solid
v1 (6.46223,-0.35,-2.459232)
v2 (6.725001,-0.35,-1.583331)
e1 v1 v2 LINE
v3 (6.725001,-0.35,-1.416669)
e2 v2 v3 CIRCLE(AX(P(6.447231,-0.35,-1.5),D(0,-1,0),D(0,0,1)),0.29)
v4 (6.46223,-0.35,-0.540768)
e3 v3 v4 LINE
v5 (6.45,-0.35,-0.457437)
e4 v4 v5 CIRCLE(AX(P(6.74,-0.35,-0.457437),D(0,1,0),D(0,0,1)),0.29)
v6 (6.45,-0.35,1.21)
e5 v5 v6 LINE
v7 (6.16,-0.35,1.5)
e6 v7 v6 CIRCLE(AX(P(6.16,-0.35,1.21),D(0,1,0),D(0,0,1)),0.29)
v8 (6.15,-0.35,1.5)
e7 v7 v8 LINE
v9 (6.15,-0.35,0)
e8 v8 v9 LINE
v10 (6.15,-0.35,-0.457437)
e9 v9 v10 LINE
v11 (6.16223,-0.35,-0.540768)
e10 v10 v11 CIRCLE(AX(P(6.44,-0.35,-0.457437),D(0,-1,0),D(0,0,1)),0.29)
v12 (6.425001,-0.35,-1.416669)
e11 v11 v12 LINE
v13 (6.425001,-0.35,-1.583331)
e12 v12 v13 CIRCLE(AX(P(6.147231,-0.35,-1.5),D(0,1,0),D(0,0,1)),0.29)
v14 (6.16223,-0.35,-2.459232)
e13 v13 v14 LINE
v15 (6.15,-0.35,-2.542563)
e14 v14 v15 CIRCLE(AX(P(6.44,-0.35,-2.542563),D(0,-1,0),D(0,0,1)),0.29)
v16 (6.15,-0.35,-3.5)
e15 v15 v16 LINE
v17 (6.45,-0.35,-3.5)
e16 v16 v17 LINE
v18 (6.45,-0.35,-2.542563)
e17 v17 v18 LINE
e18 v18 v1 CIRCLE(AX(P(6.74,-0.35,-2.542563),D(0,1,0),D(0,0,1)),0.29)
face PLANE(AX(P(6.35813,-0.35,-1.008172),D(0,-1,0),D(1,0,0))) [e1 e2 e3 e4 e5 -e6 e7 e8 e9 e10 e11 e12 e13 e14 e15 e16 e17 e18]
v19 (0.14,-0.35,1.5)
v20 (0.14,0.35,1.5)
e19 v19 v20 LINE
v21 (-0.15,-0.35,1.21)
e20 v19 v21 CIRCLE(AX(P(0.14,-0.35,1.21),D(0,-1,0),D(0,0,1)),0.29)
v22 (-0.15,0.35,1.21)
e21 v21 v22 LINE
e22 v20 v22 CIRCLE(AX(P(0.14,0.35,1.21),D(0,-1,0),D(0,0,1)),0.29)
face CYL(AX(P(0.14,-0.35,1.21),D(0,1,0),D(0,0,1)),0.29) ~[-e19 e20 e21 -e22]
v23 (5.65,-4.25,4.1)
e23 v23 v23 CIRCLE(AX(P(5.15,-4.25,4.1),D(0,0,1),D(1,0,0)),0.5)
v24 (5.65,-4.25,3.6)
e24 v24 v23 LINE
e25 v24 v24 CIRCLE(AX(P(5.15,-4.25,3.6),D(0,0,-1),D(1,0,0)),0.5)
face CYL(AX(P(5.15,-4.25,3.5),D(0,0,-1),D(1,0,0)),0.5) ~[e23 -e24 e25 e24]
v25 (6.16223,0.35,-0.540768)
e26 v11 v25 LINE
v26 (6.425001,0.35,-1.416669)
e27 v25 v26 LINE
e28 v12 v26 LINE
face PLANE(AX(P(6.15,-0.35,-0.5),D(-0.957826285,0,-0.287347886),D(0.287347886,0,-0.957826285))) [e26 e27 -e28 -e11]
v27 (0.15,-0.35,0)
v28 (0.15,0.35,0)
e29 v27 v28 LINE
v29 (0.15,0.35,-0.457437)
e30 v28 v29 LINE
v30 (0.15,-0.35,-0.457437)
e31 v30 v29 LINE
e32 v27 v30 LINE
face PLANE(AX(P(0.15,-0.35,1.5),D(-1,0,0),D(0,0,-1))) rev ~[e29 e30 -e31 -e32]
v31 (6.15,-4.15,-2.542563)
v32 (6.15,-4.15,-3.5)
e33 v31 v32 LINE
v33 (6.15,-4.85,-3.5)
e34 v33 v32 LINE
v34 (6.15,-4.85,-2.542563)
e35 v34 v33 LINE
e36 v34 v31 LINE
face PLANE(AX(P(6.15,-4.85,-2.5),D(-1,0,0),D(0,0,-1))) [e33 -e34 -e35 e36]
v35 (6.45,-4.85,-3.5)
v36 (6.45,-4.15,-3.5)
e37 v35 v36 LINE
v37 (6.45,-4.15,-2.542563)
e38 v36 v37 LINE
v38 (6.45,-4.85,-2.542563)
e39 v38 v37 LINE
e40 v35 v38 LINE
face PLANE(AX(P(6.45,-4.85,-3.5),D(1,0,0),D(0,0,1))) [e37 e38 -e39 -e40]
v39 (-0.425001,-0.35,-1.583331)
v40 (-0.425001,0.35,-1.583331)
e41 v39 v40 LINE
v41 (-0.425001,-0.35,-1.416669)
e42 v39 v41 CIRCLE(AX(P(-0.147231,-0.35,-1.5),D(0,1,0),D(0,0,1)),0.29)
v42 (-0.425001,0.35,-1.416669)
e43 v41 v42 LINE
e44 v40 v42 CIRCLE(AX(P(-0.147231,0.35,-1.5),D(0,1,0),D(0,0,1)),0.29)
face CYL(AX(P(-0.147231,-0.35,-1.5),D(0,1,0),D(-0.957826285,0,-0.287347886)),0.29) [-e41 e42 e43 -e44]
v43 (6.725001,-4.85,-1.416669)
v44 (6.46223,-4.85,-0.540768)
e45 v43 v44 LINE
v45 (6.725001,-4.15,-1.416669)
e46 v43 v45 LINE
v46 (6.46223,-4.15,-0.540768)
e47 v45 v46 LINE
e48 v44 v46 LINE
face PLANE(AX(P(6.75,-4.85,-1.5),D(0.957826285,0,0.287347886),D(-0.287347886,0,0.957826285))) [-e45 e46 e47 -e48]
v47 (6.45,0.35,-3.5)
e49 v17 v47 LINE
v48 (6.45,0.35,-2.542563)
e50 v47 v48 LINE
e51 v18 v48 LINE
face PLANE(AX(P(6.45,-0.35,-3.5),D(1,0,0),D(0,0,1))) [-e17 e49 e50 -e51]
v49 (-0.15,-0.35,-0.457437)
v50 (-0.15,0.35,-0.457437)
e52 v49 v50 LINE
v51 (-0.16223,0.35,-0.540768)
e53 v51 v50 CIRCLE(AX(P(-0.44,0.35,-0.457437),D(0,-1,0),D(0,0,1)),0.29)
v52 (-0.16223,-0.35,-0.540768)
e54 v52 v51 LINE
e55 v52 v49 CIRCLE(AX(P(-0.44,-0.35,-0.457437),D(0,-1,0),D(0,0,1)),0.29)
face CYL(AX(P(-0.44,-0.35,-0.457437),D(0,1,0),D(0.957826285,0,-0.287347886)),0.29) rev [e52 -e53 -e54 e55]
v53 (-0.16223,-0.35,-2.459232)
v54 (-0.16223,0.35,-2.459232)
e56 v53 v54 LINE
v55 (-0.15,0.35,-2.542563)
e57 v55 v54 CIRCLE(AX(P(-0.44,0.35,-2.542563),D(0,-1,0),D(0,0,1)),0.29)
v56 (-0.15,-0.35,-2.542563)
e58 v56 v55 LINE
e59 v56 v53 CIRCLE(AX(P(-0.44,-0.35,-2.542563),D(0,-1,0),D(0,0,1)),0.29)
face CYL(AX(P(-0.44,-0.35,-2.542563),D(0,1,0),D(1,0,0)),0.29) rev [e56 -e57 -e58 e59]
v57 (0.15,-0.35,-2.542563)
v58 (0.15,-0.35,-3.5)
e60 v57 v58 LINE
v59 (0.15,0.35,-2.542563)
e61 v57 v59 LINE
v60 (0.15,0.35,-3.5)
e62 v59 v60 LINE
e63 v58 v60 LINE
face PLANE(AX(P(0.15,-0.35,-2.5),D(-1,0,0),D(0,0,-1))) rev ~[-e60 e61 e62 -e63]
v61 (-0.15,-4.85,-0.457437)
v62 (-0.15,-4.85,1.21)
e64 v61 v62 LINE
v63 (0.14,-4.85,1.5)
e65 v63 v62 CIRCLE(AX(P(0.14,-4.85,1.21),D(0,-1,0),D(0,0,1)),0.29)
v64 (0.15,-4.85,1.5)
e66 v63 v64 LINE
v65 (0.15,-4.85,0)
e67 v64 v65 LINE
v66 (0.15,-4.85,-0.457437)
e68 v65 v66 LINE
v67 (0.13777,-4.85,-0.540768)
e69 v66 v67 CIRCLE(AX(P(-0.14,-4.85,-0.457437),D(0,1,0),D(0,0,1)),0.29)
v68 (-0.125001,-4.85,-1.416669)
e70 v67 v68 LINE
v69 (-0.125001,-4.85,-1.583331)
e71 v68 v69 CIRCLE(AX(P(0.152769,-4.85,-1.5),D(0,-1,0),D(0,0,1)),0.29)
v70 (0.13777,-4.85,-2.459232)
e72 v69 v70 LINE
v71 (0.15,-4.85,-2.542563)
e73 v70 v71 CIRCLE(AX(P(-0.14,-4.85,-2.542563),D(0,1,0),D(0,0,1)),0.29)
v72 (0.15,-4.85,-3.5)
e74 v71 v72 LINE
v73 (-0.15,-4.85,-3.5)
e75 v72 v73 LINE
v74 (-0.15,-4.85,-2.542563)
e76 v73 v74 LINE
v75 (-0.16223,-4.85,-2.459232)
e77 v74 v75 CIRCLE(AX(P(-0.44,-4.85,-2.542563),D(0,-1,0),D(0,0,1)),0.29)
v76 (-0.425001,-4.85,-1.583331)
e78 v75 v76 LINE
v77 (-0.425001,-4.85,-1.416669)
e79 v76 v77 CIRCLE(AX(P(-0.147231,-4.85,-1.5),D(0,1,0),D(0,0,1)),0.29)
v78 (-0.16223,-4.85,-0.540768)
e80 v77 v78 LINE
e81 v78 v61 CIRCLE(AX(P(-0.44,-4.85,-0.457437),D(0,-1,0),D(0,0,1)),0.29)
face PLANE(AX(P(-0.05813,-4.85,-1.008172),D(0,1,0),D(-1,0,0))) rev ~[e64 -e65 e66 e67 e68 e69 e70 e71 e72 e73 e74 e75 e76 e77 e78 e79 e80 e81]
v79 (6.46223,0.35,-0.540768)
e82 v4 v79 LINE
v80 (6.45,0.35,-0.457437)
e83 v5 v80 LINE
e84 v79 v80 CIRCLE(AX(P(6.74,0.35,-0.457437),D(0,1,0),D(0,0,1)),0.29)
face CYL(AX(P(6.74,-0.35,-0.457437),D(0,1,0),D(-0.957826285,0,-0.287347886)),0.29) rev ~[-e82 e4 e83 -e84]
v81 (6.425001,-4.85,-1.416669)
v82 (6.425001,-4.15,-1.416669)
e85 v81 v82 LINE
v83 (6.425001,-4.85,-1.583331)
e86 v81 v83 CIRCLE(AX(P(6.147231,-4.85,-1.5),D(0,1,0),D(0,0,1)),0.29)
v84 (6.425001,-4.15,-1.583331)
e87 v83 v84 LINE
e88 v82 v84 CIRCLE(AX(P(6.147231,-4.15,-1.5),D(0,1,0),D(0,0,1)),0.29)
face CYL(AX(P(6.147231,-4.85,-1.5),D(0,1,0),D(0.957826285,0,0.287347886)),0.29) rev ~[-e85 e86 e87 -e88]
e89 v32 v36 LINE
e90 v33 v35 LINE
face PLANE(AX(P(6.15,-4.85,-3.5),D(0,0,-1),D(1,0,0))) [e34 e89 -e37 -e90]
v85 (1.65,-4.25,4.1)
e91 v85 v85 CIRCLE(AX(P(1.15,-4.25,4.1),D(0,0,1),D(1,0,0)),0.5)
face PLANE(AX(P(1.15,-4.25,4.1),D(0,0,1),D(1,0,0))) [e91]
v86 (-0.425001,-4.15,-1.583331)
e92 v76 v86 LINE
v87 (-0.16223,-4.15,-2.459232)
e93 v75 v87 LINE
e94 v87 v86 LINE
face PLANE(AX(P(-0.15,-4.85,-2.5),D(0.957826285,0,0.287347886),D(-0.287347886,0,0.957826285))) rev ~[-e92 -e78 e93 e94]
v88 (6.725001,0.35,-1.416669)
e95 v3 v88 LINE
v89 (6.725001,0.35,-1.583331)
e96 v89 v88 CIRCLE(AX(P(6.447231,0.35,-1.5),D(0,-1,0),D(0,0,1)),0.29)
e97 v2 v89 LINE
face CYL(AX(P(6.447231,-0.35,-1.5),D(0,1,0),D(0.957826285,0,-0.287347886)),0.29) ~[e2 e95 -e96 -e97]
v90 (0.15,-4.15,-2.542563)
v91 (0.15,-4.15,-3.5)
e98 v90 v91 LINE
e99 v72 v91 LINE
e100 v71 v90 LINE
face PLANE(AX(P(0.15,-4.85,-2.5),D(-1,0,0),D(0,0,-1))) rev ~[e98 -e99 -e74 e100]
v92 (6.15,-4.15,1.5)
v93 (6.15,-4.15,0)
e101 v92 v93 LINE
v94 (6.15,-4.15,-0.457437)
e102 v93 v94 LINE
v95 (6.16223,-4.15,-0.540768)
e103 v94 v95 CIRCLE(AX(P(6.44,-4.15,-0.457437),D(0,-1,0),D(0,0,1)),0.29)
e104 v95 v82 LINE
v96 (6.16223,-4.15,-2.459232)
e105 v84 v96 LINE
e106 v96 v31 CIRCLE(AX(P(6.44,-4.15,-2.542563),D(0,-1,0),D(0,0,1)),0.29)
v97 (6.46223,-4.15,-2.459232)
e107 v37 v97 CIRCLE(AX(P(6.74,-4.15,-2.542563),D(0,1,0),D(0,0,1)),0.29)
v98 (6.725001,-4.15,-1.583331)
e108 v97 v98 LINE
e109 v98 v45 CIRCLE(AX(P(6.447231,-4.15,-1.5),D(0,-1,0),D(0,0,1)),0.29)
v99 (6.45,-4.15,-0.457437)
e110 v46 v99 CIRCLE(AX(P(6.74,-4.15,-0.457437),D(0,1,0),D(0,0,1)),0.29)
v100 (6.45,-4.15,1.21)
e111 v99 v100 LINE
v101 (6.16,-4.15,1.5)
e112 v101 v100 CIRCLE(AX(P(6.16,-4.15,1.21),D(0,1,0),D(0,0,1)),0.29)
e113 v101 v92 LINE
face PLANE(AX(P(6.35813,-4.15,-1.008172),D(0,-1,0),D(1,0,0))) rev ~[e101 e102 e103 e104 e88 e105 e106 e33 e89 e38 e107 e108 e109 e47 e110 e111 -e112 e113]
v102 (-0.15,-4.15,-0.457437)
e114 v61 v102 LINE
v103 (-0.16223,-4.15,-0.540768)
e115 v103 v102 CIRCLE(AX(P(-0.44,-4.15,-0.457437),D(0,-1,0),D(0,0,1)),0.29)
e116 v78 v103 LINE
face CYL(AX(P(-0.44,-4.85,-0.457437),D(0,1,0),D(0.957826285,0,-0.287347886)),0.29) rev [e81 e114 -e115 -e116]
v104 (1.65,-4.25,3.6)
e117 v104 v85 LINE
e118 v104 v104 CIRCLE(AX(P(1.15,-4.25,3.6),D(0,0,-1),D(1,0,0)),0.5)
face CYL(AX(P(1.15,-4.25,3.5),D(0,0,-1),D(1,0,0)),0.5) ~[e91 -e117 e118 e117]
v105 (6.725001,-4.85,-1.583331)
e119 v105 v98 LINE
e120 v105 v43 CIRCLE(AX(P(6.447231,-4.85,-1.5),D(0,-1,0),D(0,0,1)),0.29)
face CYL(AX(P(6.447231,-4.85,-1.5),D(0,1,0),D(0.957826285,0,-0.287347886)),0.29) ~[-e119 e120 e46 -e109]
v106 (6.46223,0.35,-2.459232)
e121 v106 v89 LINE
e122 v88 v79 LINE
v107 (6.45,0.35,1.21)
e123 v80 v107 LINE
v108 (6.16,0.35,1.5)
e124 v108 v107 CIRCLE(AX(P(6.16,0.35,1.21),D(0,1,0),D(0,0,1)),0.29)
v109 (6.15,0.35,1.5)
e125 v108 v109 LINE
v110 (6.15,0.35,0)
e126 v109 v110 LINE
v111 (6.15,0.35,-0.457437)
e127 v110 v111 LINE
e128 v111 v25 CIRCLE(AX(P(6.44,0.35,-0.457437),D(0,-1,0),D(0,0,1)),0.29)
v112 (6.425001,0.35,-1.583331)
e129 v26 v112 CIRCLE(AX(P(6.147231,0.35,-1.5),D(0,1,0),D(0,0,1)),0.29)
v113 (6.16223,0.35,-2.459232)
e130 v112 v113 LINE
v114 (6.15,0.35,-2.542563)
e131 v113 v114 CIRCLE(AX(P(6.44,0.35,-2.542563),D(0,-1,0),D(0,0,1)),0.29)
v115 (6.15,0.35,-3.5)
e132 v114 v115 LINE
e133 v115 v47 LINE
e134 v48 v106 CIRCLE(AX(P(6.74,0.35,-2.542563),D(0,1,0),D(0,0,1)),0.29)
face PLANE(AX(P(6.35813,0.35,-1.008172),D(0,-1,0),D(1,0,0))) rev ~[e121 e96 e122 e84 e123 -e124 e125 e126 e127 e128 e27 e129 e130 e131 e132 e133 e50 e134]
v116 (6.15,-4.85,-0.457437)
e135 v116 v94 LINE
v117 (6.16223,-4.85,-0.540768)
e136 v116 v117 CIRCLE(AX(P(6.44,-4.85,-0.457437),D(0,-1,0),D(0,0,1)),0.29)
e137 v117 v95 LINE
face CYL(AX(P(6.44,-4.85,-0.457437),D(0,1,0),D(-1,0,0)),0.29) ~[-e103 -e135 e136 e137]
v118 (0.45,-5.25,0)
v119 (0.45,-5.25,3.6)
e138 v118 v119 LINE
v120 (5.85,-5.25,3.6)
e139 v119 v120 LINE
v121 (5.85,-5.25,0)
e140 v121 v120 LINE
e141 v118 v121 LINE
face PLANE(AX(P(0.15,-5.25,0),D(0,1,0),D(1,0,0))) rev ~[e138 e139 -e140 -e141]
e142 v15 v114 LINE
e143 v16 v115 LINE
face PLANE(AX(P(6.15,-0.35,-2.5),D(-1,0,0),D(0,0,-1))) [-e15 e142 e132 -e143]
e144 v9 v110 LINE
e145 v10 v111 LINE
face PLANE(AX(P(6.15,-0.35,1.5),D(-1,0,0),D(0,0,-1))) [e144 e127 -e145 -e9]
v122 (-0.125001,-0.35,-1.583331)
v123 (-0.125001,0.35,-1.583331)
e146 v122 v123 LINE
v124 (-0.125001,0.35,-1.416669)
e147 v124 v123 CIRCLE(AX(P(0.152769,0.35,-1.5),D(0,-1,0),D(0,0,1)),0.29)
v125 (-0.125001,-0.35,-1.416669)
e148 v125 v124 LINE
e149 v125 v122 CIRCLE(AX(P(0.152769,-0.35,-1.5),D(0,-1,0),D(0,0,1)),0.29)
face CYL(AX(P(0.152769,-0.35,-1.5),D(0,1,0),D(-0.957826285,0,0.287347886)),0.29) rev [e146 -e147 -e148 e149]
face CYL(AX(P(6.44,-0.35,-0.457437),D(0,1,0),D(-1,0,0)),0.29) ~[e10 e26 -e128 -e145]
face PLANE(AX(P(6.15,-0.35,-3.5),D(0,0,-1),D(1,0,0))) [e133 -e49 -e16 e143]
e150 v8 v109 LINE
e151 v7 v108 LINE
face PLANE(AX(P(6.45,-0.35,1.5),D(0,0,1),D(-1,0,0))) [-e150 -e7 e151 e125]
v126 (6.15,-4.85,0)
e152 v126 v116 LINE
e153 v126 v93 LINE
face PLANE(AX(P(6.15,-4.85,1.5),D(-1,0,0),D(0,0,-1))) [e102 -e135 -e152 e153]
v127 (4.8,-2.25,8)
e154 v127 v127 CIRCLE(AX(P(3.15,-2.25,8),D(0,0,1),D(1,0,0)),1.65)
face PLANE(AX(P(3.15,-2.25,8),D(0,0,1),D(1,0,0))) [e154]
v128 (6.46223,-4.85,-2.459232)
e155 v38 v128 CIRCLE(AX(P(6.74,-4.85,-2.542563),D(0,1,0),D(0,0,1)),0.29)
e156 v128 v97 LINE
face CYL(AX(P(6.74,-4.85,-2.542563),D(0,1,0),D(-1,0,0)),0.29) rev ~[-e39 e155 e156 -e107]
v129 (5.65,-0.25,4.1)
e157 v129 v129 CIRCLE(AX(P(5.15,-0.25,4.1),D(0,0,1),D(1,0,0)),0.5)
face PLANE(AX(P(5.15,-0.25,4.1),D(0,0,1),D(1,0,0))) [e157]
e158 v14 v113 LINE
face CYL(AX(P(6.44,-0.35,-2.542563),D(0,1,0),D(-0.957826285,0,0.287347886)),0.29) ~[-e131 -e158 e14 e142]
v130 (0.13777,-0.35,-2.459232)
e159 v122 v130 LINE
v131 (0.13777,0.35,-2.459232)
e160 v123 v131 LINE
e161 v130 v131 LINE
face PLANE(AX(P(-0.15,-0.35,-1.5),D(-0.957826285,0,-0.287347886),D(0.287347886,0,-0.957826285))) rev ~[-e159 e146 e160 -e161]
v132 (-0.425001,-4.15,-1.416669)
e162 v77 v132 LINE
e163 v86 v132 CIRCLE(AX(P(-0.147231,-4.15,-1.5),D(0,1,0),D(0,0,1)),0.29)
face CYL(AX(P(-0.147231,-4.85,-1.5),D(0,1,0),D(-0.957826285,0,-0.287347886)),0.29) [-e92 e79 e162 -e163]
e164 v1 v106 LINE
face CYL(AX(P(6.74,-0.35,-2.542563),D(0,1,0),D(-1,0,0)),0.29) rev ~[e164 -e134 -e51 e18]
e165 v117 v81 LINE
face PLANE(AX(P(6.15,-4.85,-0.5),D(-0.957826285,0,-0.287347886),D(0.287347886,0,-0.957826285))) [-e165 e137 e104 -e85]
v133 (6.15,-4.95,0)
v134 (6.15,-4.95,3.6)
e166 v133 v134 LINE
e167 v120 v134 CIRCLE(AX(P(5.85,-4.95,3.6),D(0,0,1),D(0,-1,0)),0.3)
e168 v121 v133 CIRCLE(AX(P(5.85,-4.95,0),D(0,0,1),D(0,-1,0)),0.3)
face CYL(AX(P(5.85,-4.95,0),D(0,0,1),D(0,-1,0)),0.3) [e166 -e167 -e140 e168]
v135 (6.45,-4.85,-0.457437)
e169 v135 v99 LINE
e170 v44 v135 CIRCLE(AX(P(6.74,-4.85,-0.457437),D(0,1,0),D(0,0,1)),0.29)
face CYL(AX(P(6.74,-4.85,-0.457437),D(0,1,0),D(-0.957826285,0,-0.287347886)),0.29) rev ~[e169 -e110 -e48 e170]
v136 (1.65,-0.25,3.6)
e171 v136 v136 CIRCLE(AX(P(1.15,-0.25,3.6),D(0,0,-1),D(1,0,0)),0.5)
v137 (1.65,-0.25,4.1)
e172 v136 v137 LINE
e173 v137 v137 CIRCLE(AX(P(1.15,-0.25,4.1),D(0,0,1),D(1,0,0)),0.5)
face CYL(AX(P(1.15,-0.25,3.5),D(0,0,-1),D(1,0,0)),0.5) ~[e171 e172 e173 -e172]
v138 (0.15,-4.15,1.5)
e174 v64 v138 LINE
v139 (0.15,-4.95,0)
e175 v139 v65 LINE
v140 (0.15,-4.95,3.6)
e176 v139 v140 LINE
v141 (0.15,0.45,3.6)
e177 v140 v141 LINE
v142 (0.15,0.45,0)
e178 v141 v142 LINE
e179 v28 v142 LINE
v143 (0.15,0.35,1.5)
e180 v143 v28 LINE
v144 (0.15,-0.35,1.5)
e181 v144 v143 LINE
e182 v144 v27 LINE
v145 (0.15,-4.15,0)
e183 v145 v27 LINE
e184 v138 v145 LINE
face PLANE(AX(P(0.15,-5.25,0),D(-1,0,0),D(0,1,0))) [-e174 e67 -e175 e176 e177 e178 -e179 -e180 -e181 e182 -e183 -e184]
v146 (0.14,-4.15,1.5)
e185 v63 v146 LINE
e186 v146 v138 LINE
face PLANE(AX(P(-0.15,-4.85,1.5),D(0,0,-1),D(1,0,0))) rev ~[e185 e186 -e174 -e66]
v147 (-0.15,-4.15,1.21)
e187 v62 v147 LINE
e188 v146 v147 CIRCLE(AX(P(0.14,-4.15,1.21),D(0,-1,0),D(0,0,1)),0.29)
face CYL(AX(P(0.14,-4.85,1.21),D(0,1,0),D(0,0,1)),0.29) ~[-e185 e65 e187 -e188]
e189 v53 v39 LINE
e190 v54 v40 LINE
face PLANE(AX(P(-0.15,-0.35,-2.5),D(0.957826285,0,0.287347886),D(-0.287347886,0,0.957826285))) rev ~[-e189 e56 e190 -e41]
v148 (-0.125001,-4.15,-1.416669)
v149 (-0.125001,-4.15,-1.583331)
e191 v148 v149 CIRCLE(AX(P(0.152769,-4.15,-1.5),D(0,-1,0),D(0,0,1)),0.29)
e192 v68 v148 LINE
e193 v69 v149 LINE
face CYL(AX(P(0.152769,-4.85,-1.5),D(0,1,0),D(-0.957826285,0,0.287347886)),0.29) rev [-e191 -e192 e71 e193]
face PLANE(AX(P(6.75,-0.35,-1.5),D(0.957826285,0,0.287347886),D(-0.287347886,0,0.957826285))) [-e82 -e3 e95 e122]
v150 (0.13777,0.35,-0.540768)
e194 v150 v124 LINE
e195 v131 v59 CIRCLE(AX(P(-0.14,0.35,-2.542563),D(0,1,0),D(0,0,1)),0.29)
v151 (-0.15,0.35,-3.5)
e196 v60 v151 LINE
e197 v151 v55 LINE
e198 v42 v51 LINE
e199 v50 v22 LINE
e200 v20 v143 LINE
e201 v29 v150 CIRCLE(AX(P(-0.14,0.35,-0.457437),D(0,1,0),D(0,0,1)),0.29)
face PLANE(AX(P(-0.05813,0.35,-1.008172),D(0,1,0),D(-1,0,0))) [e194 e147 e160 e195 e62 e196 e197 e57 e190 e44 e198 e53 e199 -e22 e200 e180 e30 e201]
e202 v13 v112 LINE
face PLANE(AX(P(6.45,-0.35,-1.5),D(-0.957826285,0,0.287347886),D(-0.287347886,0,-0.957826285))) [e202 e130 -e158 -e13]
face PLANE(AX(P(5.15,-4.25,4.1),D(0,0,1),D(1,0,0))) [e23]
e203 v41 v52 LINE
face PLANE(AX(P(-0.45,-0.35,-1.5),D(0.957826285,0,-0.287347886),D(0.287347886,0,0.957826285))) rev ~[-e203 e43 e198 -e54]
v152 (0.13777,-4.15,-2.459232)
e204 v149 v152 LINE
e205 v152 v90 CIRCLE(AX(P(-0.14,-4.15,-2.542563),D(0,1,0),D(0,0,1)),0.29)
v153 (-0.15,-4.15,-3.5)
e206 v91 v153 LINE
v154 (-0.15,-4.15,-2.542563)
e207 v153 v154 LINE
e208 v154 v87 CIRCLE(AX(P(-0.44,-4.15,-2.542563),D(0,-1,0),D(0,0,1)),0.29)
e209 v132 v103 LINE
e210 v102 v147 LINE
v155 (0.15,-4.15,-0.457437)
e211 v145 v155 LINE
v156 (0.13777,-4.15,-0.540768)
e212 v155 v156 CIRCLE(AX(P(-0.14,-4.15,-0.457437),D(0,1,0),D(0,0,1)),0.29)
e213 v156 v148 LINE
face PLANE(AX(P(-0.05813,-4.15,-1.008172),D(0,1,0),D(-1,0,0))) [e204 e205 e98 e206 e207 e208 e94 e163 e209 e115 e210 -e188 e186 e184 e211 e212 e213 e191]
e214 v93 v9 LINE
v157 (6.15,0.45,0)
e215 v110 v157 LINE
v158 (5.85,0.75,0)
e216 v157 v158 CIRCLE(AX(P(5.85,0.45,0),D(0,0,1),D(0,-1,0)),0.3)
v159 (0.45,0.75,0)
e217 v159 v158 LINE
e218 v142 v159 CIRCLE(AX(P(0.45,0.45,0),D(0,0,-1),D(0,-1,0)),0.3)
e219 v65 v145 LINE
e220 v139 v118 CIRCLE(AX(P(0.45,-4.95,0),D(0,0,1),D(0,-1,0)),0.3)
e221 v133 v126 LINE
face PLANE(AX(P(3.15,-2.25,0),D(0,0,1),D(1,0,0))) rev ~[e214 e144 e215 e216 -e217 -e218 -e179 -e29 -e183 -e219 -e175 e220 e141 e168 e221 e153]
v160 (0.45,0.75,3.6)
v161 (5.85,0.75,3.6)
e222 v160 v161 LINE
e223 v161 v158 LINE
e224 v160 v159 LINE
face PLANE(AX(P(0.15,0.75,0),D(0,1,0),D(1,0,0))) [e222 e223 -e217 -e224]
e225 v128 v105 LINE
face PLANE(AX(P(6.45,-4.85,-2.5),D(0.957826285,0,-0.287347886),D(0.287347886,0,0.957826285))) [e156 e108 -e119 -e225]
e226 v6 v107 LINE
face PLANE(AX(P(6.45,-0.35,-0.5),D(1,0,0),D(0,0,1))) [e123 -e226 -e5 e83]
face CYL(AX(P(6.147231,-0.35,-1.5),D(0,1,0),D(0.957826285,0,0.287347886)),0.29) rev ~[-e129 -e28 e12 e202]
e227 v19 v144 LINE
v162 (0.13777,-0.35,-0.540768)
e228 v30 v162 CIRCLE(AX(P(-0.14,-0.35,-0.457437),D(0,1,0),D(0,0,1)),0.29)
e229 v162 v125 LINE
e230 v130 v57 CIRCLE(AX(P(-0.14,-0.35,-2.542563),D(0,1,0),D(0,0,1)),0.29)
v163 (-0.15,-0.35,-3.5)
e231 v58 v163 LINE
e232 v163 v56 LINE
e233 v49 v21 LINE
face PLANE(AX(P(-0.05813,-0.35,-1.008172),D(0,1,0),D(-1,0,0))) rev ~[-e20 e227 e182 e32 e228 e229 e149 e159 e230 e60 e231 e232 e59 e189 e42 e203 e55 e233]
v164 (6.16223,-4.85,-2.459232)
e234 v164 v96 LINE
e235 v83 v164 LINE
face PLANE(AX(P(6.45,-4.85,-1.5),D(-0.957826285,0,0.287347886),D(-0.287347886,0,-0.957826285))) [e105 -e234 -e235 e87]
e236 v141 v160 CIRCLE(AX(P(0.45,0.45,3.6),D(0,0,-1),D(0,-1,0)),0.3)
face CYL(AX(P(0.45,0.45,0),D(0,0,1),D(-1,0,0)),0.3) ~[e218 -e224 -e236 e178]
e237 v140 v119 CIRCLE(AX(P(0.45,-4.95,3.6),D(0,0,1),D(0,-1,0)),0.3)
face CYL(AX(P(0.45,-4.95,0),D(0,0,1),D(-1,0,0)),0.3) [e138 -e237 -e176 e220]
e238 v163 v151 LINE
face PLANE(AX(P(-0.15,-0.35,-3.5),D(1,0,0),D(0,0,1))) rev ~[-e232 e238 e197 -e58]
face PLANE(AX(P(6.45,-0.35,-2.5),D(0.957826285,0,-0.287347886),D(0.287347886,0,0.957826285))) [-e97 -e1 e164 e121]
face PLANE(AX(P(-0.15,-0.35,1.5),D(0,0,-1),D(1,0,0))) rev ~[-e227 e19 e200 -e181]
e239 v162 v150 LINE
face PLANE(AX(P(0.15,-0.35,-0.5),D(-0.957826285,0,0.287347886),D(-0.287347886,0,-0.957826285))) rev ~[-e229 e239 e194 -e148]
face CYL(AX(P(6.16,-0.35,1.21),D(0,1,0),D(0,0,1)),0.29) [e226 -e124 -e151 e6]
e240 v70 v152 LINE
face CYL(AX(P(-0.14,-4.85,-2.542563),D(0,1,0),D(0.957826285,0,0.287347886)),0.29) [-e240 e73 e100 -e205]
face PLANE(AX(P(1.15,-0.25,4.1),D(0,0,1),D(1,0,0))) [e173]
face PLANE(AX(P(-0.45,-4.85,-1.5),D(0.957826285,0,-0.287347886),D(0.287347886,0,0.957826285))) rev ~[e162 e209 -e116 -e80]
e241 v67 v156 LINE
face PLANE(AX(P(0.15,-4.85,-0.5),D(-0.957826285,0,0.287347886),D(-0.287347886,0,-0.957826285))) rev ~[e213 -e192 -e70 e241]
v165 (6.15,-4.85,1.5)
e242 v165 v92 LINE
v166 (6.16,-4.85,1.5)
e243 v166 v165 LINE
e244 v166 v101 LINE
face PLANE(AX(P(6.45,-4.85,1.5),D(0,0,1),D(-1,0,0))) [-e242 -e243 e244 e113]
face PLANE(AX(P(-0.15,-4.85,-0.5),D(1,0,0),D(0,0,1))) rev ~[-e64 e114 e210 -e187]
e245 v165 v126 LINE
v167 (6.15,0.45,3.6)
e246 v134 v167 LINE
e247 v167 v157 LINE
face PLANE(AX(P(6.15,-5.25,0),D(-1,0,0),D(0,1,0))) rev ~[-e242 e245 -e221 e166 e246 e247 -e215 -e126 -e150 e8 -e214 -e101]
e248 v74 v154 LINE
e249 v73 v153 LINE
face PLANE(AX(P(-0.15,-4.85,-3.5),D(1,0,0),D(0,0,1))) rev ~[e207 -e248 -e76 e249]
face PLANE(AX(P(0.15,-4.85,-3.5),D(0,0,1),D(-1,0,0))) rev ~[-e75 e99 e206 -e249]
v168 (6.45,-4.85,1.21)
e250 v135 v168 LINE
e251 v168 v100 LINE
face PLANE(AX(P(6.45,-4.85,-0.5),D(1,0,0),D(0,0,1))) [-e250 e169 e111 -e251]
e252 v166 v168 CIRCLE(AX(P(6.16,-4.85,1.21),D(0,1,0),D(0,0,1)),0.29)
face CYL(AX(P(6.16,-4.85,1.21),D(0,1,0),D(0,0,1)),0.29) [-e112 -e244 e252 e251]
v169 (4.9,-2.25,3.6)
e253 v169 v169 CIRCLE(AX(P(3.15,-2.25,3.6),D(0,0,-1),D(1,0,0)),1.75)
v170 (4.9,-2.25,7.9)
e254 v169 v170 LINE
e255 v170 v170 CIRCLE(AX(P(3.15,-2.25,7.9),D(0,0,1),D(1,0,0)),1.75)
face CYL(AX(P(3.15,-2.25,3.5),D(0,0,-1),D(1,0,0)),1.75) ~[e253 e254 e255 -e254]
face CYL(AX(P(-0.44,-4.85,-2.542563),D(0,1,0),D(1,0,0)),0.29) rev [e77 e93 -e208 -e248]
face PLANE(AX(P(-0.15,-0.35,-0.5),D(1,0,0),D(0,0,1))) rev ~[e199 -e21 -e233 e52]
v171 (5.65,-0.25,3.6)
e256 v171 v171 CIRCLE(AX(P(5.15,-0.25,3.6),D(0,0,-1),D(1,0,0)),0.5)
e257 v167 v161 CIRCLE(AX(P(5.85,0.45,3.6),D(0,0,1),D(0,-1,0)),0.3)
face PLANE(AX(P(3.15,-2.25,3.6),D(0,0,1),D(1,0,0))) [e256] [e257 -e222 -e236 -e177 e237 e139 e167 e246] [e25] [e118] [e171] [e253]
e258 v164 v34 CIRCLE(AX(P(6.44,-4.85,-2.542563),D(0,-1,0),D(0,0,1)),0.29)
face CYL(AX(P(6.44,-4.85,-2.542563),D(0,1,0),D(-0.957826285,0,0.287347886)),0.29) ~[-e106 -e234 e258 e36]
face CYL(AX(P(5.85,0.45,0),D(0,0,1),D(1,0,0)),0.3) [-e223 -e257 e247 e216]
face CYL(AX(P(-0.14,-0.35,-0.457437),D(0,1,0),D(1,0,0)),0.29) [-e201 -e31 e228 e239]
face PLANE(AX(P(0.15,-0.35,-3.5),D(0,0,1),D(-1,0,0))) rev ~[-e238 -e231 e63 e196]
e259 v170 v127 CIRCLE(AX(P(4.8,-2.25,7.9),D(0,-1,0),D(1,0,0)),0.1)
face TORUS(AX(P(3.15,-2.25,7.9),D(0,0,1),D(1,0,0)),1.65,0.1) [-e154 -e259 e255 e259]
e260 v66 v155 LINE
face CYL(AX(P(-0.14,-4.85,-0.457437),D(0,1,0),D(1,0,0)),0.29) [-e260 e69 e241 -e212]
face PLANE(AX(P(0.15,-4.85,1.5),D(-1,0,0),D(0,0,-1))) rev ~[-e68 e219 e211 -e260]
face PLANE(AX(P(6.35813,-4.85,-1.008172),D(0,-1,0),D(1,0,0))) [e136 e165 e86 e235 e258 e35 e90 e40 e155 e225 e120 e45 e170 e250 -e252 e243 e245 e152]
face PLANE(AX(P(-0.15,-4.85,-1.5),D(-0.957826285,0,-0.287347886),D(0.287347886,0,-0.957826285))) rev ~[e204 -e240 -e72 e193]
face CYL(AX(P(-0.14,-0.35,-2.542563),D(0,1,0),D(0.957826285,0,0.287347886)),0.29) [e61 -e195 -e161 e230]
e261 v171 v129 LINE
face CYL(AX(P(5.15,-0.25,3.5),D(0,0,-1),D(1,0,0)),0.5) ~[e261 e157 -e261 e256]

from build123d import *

# Parameters (mm, degrees)
SKETCH001_W  = 6
SKETCH001_H  = 6
PAD001_DEPTH = 0.1
FILLET001_R  = 0.3
PAD008_DEPTH = 0.7
FILLET003_R  = 0.29
PAD009_DEPTH = 0.7
FILLET004_R  = 0.29
PAD010_DEPTH = 0.7
FILLET005_R  = 0.29
SKETCH_W     = 6
SKETCH_H     = 6
PAD_DEPTH    = 3.5
FILLET_R     = 0.3
SKETCH004_R  = 0.5
PAD003_DEPTH = 0.6
SKETCH003_R  = 0.5
PAD004_DEPTH = 0.6
SKETCH005_R  = 0.5
PAD002_DEPTH = 0.6
SKETCH002_R  = 0.5
PAD005_DEPTH = 0.6
SKETCH006_R  = 1.75
PAD006_DEPTH = 4.5
FILLET006_R  = 0.1
PAD007_DEPTH = 0.7
FILLET002_R  = 0.29


with BuildPart() as fillet001:
    # Sketch001 → Pad001 (new body)
    with BuildSketch(Plane.XY.offset(3.5)):
        with Locations((3.15, -2.25)):
            Rectangle(SKETCH001_W, SKETCH001_H)
    extrude(amount=PAD001_DEPTH)

    # Fillet001
    fillet001_edges = [fillet001.edges().sort_by_distance(p)[0] for p in [
        (6.15, -5.25, 3.55),
        (0.15, -5.25, 3.55),
        (6.15, 0.75, 3.55),
        (0.15, 0.75, 3.55),
    ]]
    fillet(fillet001_edges, radius=FILLET001_R)


with BuildPart() as fillet003:
    # Sketch008 → Pad008 (new body)
    with BuildSketch(Plane.XZ.offset(0.35)):
        Polygon((-0.15, 1.5), (0.15, 1.5), (0.15, -0.5), (-0.15, -1.5), (0.15, -2.5), (0.15, -3.5), (-0.15, -3.5), (-0.15, -2.5), (-0.45, -1.5), (-0.15, -0.5), align=None)
    extrude(amount=-PAD008_DEPTH)

    # Fillet003
    fillet003_edges = [fillet003.edges().sort_by_distance(p)[0] for p in [
        (-0.15, 0, -2.5),
        (-0.15, 0, -0.5),
        (-0.45, 0, -1.5),
        (-0.15, 0, 1.5),
        (0.15, 0, -0.5),
        (-0.15, 0, -1.5),
        (0.15, 0, -2.5),
    ]]
    fillet(fillet003_edges, radius=FILLET003_R)


with BuildPart() as fillet004:
    # Sketch009 → Pad009 (new body)
    with BuildSketch(Plane.XZ.offset(4.85)):
        Polygon((6.45, 1.5), (6.15, 1.5), (6.15, -0.5), (6.45, -1.5), (6.15, -2.5), (6.15, -3.5), (6.45, -3.5), (6.45, -2.5), (6.75, -1.5), (6.45, -0.5), align=None)
    extrude(amount=-PAD009_DEPTH)

    # Fillet004
    fillet004_edges = [fillet004.edges().sort_by_distance(p)[0] for p in [
        (6.45, -4.5, -2.5),
        (6.45, -4.5, -0.5),
        (6.75, -4.5, -1.5),
        (6.45, -4.5, 1.5),
        (6.15, -4.5, -0.5),
        (6.45, -4.5, -1.5),
        (6.15, -4.5, -2.5),
    ]]
    fillet(fillet004_edges, radius=FILLET004_R)


with BuildPart() as fillet005:
    # Sketch010 → Pad010 (new body)
    with BuildSketch(Plane.XZ.offset(0.35)):
        Polygon((6.45, 1.5), (6.15, 1.5), (6.15, -0.5), (6.45, -1.5), (6.15, -2.5), (6.15, -3.5), (6.45, -3.5), (6.45, -2.5), (6.75, -1.5), (6.45, -0.5), align=None)
    extrude(amount=-PAD010_DEPTH)

    # Fillet005
    fillet005_edges = [fillet005.edges().sort_by_distance(p)[0] for p in [
        (6.45, 0, -2.5),
        (6.45, 0, -0.5),
        (6.75, 0, -1.5),
        (6.45, 0, 1.5),
        (6.15, 0, -0.5),
        (6.45, 0, -1.5),
        (6.15, 0, -2.5),
    ]]
    fillet(fillet005_edges, radius=FILLET005_R)


with BuildPart() as fillet_body:
    # Sketch → Pad (new body)
    with BuildSketch(Plane.XY):
        with Locations((3.15, -2.25)):
            Rectangle(SKETCH_W, SKETCH_H)
    extrude(amount=PAD_DEPTH)

    # Fillet
    fillet_edges = [fillet_body.edges().sort_by_distance(p)[0] for p in [
        (6.15, 0.75, 1.75),
        (6.15, -5.25, 1.75),
        (0.15, -5.25, 1.75),
        (0.15, 0.75, 1.75),
    ]]
    fillet(fillet_edges, radius=FILLET_R)


with BuildPart() as pad003:
    # Pad003 base: copy of Fillet body
    add(fillet_body.part)

    # Sketch004 → Pad003 (new body)
    with BuildSketch(Plane.XY.offset(3.5)):
        with Locations((5.15, -0.25)):
            Circle(SKETCH004_R)
    extrude(amount=PAD003_DEPTH)


with BuildPart() as pad004:
    # Pad004 base: copy of Fillet body
    add(fillet_body.part)

    # Sketch003 → Pad004 (new body)
    with BuildSketch(Plane.XY.offset(3.5)):
        with Locations((5.15, -4.25)):
            Circle(SKETCH003_R)
    extrude(amount=PAD004_DEPTH)


with BuildPart() as pad002:
    # Pad002 base: copy of Fillet body
    add(fillet_body.part)

    # Sketch005 → Pad002 (new body)
    with BuildSketch(Plane.XY.offset(3.5)):
        with Locations((1.15, -0.25)):
            Circle(SKETCH005_R)
    extrude(amount=PAD002_DEPTH)


with BuildPart() as pad005:
    # Pad005 base: copy of Fillet body
    add(fillet_body.part)

    # Sketch002 → Pad005 (new body)
    with BuildSketch(Plane.XY.offset(3.5)):
        with Locations((1.15, -4.25)):
            Circle(SKETCH002_R)
    extrude(amount=PAD005_DEPTH)


with BuildPart() as fillet006:
    # Pad006 base: copy of Fillet body
    add(fillet_body.part)

    # Sketch006 → Pad006 (new body)
    with BuildSketch(Plane.XY.offset(3.5)):
        with Locations((3.15, -2.25)):
            Circle(SKETCH006_R)
    extrude(amount=PAD006_DEPTH)

    # Fillet006
    fillet006_edges = [fillet006.edges().sort_by_distance(p)[0] for p in [
        (1.4, -2.25, 8),
    ]]
    fillet(fillet006_edges, radius=FILLET006_R)


with BuildPart() as sw_push_6mm_h8mm:
    # Sketch007 → Pad007 (new body)
    with BuildSketch(Plane.XZ.offset(4.85)):
        Polygon((-0.15, 1.5), (0.15, 1.5), (0.15, -0.5), (-0.15, -1.5), (0.15, -2.5), (0.15, -3.5), (-0.15, -3.5), (-0.15, -2.5), (-0.45, -1.5), (-0.15, -0.5), align=None)
    extrude(amount=-PAD007_DEPTH)

    # Fillet002
    fillet002_edges = [sw_push_6mm_h8mm.edges().sort_by_distance(p)[0] for p in [
        (-0.15, -4.5, -2.5),
        (-0.15, -4.5, -0.5),
        (-0.45, -4.5, -1.5),
        (-0.15, -4.5, 1.5),
        (0.15, -4.5, -0.5),
        (-0.15, -4.5, -1.5),
        (0.15, -4.5, -2.5),
    ]]
    fillet(fillet002_edges, radius=FILLET002_R)

    # Fillet002_mp_cp: union Fillet001, Fillet003, Fillet004, Fillet005, Pad003, Pad004, Pad002, Pad005, Fillet006
    add(fillet001.part)
    add(fillet003.part)
    add(fillet004.part)
    add(fillet005.part)
    add(pad003.part)
    add(pad004.part)
    add(pad002.part)
    add(pad005.part)
    add(fillet006.part)


solid = sw_push_6mm_h8mm.part
